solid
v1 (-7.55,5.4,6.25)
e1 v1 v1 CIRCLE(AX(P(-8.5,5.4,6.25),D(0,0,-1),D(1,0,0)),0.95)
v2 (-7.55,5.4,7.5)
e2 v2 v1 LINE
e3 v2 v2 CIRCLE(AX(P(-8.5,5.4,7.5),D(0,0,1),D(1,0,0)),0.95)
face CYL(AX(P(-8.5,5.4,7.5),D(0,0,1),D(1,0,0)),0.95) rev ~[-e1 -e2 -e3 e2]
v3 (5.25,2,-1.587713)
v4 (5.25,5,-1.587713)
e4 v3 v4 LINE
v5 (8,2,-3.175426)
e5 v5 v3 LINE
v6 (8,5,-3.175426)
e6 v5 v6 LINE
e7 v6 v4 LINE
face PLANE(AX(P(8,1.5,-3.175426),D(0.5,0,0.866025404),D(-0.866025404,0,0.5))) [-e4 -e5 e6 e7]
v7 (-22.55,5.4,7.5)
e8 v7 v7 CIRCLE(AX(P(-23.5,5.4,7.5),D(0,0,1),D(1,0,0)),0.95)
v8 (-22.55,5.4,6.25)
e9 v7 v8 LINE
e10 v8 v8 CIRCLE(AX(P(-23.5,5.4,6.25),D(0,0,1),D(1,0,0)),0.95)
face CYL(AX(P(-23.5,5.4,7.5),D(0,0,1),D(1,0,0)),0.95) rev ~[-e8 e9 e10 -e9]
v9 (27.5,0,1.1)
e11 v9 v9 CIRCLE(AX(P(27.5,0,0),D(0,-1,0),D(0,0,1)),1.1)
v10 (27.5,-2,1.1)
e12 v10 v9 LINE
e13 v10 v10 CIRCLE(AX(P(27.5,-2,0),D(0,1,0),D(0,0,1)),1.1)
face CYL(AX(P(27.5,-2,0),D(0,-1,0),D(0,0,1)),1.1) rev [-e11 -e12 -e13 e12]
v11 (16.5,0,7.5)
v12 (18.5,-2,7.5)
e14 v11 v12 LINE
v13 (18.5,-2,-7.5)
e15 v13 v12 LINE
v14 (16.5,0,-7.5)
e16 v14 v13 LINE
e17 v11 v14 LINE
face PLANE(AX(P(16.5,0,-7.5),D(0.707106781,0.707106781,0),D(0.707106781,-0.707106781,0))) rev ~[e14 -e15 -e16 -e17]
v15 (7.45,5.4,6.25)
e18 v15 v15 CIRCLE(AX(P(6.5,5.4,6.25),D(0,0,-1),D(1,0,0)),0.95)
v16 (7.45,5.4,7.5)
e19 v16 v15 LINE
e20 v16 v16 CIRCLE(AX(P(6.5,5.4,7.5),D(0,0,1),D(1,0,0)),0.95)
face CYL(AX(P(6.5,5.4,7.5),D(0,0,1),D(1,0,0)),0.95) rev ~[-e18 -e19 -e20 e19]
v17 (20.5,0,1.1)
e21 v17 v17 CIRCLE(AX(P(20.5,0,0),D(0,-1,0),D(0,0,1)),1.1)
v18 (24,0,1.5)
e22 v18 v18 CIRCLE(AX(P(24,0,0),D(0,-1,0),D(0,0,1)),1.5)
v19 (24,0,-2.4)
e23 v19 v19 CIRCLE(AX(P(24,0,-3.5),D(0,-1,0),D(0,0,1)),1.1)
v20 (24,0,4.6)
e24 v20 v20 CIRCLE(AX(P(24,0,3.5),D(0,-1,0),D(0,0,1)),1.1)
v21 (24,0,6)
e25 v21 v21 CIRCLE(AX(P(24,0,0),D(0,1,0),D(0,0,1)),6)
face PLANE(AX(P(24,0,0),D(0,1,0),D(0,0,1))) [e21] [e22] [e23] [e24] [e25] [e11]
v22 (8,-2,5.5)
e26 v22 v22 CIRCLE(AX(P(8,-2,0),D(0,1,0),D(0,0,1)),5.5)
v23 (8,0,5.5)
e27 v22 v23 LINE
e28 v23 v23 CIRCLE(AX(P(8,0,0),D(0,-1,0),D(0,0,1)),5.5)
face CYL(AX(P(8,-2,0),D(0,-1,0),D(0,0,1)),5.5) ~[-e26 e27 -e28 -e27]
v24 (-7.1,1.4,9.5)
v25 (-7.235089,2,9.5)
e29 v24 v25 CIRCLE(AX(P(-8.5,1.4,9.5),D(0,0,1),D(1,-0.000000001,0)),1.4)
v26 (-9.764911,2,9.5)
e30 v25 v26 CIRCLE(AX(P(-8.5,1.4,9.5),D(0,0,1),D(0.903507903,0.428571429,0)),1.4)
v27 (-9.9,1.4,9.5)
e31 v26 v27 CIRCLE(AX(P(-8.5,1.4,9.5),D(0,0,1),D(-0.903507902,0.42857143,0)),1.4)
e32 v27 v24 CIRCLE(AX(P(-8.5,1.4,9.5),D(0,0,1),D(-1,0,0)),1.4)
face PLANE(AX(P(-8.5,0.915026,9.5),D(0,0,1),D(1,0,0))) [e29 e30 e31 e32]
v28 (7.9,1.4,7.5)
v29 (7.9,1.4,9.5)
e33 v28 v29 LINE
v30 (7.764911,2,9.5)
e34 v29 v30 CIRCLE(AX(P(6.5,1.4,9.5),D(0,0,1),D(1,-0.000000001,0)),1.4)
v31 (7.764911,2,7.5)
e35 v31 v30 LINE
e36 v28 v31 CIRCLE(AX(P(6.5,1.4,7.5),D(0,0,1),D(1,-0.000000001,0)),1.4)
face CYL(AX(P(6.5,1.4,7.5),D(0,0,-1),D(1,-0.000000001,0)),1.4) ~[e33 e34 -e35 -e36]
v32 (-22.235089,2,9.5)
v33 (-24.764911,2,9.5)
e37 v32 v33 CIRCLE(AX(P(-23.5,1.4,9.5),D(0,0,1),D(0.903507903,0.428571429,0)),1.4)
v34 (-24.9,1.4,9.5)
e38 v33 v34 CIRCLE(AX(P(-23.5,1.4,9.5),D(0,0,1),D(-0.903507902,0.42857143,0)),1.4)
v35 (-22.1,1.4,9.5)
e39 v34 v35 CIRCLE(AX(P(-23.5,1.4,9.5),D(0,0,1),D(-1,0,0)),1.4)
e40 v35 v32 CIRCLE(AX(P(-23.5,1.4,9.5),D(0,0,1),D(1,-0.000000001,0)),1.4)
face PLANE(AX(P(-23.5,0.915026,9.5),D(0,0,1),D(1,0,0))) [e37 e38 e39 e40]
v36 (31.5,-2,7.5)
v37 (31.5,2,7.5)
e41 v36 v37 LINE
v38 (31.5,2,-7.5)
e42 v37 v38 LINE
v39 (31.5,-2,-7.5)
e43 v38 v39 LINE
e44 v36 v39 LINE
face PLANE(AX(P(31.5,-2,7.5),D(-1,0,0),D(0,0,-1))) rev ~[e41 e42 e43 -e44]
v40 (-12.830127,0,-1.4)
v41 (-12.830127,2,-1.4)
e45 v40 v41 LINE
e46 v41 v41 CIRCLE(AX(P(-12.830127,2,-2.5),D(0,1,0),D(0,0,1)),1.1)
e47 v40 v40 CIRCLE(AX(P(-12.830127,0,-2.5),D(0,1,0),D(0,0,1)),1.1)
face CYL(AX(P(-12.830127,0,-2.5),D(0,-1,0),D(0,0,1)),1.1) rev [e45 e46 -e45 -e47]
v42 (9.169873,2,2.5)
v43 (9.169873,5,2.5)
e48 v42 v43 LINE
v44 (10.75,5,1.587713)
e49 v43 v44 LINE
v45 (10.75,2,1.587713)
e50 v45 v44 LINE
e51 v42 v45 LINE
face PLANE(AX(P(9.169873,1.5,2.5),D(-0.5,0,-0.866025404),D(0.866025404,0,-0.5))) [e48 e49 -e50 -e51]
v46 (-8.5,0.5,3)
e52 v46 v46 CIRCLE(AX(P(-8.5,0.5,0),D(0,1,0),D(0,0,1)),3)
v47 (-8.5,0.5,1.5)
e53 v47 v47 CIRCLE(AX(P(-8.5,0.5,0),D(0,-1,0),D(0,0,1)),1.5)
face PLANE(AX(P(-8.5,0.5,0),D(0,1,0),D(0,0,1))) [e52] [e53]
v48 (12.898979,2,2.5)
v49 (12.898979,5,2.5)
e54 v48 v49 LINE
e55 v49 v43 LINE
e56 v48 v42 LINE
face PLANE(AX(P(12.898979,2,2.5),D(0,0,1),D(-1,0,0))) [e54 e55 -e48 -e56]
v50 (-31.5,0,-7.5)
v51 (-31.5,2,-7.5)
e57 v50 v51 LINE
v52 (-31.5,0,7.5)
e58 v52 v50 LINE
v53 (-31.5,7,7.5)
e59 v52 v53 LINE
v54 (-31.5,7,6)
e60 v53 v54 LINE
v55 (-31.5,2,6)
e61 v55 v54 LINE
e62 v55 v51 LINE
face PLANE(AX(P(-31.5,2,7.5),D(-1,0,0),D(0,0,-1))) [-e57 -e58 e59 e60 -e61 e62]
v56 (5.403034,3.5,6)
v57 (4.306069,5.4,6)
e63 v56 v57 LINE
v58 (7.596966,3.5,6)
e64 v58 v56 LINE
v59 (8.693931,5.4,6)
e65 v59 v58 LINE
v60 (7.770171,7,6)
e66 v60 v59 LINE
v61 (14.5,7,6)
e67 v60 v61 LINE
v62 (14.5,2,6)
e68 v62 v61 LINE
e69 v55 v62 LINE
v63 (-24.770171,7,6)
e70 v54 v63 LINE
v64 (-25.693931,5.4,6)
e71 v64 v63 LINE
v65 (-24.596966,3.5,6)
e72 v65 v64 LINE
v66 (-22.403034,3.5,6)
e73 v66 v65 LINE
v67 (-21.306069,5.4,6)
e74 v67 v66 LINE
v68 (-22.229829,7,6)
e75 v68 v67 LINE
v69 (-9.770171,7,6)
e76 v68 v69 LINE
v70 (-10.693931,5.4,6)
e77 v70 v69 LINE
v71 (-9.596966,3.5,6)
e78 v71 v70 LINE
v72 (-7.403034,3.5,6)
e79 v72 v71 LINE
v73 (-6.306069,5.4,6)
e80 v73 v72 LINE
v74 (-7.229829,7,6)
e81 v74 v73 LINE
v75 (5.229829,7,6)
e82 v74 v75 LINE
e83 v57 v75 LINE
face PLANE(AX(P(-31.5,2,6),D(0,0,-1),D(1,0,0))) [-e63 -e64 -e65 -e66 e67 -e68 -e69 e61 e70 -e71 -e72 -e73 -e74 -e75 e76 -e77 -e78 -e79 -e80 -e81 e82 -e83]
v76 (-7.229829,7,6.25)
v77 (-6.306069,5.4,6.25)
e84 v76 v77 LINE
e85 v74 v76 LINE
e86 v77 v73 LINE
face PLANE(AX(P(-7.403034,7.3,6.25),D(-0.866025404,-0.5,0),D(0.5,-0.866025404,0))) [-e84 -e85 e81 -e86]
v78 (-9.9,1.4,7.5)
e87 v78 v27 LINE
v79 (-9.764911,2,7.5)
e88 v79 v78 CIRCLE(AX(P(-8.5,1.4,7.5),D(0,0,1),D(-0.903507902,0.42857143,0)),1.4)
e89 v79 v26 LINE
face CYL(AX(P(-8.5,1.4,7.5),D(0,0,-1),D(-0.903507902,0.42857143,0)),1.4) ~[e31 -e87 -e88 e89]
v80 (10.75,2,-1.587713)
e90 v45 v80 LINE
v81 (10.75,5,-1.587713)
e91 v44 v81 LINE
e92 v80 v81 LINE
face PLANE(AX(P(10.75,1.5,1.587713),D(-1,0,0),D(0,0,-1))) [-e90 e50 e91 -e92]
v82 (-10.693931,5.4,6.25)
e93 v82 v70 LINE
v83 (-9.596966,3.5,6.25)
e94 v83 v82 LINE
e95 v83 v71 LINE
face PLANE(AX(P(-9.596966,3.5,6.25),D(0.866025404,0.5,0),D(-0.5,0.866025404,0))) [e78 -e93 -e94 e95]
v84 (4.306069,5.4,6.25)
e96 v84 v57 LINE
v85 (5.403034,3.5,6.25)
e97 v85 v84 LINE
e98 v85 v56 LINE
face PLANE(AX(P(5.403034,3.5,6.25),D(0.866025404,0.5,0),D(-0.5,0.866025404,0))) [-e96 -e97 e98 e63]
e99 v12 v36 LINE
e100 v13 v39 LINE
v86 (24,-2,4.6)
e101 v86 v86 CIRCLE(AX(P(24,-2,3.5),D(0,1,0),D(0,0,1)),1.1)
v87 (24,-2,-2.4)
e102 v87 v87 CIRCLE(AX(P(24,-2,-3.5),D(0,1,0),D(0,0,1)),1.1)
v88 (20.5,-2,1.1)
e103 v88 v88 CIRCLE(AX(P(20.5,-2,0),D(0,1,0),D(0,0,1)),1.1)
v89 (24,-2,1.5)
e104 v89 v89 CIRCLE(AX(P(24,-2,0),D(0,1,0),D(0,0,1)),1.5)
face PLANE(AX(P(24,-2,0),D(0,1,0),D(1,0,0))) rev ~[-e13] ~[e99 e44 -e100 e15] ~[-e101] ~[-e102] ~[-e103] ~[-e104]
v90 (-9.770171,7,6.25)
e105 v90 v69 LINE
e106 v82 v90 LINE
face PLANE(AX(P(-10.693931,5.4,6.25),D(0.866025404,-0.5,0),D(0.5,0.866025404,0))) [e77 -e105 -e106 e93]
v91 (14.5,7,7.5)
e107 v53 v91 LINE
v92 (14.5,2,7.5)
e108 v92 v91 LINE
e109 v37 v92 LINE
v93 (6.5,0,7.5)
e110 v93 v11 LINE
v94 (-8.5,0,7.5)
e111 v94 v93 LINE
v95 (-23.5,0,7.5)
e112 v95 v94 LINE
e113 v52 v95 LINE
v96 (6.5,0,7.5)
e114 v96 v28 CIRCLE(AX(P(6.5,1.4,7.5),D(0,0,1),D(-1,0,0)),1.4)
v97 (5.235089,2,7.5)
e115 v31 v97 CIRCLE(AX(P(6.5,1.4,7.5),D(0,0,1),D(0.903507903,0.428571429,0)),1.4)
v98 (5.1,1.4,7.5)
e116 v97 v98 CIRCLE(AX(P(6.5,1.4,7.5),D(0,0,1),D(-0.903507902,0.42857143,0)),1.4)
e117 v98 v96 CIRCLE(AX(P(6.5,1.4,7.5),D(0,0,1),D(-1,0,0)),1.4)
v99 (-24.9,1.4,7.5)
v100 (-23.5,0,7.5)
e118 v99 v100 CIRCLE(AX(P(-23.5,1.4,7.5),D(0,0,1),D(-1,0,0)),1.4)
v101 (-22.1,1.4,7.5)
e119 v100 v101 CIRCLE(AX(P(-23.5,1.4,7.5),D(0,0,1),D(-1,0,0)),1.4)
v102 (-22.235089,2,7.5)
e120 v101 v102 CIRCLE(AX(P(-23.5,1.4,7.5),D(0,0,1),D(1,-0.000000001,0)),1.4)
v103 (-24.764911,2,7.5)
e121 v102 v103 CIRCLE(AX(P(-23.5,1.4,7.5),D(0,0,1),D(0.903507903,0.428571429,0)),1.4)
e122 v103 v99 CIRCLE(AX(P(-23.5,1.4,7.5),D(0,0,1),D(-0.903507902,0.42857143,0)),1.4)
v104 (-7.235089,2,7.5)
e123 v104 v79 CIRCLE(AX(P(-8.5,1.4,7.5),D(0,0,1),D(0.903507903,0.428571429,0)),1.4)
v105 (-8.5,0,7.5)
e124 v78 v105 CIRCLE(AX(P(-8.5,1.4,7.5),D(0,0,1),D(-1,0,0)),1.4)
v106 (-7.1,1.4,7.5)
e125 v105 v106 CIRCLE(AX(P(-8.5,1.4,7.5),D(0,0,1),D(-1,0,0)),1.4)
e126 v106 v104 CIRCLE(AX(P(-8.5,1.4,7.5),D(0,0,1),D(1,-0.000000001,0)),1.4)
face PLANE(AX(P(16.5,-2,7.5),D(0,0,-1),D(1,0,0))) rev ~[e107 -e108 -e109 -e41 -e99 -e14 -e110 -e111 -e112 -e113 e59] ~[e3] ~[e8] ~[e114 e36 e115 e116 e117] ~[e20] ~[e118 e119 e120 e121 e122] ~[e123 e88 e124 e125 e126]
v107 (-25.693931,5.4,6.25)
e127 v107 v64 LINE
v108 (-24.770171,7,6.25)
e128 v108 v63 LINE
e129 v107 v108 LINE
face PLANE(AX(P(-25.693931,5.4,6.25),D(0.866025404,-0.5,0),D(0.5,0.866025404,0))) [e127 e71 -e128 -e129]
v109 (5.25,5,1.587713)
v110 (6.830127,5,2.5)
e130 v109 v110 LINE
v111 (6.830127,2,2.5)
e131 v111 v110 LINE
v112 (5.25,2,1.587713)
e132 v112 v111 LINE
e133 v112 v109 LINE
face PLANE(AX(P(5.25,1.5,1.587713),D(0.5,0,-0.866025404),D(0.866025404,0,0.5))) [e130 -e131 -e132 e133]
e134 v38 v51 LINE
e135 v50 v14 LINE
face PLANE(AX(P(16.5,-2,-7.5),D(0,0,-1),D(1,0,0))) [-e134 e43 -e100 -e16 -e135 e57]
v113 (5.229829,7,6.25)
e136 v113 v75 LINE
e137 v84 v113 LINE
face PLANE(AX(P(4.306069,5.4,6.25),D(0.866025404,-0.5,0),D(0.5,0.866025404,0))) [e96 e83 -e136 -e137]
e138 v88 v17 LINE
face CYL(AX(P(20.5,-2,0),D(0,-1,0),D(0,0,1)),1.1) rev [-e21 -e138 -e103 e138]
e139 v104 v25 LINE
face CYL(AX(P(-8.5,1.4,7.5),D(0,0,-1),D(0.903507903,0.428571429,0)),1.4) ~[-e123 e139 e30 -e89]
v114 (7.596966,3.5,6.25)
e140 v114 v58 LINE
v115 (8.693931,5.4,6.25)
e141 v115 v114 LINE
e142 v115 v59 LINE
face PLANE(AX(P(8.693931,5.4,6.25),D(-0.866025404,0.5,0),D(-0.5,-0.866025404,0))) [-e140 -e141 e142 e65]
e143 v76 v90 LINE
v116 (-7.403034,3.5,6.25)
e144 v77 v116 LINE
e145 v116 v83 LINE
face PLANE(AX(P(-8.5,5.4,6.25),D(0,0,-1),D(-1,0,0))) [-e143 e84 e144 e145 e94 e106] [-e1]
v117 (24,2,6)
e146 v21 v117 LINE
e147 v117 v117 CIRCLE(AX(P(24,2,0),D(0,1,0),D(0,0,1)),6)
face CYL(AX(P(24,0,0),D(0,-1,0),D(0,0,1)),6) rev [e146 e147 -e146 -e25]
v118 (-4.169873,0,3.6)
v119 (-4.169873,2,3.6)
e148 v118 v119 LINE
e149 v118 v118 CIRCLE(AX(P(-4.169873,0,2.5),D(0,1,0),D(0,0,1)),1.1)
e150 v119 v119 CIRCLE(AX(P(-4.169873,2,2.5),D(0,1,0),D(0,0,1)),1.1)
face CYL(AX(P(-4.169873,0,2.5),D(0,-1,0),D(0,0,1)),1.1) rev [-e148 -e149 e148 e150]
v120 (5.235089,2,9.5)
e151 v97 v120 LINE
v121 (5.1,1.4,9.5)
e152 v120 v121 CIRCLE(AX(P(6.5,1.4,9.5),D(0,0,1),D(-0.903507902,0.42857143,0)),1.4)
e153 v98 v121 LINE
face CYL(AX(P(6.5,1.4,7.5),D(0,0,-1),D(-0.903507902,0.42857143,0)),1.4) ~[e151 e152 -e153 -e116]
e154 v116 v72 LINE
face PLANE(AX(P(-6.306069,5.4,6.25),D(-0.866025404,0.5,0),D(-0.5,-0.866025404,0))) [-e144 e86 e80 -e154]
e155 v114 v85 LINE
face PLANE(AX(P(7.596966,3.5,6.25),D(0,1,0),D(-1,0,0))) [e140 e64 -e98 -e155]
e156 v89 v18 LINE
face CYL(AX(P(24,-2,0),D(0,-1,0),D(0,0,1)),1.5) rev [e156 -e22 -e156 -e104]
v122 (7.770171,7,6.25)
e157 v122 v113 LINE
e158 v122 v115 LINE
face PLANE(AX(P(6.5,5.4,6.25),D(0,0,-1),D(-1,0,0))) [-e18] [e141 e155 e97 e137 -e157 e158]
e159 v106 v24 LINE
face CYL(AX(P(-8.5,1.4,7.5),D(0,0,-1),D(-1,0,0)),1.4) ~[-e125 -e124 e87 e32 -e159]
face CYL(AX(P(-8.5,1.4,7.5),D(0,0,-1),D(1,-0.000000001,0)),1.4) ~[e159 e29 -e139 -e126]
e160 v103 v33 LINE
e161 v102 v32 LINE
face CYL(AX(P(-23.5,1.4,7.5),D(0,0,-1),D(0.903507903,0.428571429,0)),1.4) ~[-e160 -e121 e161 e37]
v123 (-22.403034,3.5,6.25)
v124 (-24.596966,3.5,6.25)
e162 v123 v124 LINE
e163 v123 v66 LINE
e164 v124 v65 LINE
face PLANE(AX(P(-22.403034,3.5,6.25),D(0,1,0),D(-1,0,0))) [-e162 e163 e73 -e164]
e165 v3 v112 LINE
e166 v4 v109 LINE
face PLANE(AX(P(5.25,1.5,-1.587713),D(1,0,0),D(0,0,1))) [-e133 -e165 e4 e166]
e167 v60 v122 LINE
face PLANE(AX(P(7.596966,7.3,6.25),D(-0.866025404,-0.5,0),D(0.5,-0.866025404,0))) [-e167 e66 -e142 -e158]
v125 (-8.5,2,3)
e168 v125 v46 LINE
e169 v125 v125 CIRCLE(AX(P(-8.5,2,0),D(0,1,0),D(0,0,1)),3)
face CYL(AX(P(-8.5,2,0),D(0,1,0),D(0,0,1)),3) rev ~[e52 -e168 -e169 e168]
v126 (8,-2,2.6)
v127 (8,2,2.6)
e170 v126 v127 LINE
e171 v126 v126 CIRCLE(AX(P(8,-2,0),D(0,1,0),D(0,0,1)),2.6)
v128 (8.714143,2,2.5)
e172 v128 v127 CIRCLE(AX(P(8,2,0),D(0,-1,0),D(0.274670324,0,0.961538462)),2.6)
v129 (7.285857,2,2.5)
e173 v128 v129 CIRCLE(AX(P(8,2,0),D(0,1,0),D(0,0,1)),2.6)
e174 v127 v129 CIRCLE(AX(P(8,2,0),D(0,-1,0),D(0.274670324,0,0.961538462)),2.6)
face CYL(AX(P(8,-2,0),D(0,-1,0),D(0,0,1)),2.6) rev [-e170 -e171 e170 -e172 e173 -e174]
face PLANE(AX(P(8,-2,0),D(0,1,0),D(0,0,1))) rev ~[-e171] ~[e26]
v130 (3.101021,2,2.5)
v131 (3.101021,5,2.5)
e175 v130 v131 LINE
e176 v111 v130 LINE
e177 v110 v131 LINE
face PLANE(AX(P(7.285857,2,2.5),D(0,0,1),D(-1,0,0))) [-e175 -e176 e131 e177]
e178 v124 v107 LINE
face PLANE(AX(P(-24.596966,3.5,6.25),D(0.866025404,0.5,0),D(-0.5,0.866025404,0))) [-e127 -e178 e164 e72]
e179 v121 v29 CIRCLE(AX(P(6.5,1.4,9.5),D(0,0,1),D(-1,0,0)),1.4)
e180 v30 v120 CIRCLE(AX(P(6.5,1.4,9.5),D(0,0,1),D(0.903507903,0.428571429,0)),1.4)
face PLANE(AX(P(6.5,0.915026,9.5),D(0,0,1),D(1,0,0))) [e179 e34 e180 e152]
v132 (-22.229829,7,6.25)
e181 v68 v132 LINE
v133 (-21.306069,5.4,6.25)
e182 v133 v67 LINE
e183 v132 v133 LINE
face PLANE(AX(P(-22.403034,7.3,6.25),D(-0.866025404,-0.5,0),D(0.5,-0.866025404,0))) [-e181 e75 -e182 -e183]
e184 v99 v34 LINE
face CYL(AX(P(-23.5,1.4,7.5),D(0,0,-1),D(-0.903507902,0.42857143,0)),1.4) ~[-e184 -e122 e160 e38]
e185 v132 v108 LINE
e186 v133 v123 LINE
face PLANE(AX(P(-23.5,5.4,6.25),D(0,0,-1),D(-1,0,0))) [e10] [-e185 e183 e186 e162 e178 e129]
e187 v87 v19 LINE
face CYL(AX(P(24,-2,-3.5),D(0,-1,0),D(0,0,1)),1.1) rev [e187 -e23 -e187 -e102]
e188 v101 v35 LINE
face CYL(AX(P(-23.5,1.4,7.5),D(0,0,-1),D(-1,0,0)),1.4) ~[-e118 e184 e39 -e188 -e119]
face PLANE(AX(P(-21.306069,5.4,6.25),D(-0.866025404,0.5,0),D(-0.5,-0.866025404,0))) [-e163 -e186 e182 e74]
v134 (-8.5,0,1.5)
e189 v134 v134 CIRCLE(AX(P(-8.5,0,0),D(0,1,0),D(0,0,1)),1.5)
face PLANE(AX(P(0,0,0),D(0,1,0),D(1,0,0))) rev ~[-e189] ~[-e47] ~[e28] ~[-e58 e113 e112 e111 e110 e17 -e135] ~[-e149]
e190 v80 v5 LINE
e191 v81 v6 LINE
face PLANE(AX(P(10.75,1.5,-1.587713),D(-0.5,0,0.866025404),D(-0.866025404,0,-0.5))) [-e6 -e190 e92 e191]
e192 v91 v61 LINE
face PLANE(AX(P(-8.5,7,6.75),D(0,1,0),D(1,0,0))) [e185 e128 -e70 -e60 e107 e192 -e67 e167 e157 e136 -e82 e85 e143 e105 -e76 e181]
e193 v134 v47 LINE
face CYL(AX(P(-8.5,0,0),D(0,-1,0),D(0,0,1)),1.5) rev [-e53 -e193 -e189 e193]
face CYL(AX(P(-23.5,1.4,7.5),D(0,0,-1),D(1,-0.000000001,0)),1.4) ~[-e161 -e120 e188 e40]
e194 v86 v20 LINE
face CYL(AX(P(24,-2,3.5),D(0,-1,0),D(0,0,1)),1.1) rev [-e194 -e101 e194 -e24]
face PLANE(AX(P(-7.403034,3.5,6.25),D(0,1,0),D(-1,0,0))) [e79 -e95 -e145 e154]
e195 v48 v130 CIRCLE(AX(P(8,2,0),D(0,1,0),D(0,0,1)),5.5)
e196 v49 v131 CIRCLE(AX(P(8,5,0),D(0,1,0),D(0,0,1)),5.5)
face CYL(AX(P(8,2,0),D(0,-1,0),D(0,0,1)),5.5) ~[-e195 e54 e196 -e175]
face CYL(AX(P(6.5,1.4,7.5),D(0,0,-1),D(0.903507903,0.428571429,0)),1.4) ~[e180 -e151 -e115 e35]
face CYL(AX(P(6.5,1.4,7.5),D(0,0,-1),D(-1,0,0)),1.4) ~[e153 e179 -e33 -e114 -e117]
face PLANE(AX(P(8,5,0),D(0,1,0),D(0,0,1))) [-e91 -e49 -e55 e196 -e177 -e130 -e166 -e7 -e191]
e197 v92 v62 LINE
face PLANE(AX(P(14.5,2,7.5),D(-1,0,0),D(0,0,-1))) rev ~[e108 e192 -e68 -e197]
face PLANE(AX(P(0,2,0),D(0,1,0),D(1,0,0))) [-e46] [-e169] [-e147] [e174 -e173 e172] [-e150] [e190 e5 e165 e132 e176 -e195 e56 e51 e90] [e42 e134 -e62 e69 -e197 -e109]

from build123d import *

# Parameters (mm, degrees)
SKETCH_1_W          = 63
SKETCH_1_H          = 15
SKETCH_1_R          = 1.1
SKETCH_1_R_2        = 1.5
SKETCH_1_R_3        = 2.6
EXTRUDE_1_DEPTH     = 2
EXTRUDE_2_DEPTH     = 2
SKETCH_4_R          = 3
CUT_EXTRUDE_1_DEPTH = 1.5
SKETCH_5_W          = 46
SKETCH_5_H          = 1.5
EXTRUDE_3_DEPTH     = 5
SKETCH_2_3_R        = 0.95
CUT_EXTRUDE_2_DEPTH = 6
CUT_EXTRUDE_START   = -0.25
SKETCH_7_R          = 0.95
CUT_EXTRUDE_3_DEPTH = 0.25
SKETCH_1_3_W        = 15
SKETCH_1_3_H        = 15
SKETCH_1_3_R        = 6
SKETCH_1_3_R_2      = 1.5
SKETCH_1_3_R_3      = 1.1
EXTRUDE_4_DEPTH     = 2
EXTRUDE_START       = -2
SKETCH_1_4_W        = 15
SKETCH_1_4_H        = 15
SKETCH_1_4_R        = 6
SKETCH_1_4_R_2      = 1.5
SKETCH_1_4_R_3      = 1.1
EXTRUDE_5_DEPTH     = 2
SKETCH_1_5_R        = 6
CUT_EXTRUDE_4_DEPTH = 2
CUT_EXTRUDE_5_DEPTH = 15
SKETCH_9_R          = 5.5
SKETCH_9_R_2        = 2.6
EXTRUDE_6_DEPTH     = 3
CUT_EXTRUDE_START_2 = -3
CUT_EXTRUDE_6_DEPTH = 3
CUT_EXTRUDE_START_3 = -3.5
CUT_EXTRUDE_7_DEPTH = 3.5
EXTRUDE_START_2     = -4
SKETCH_9_2_R        = 5.5
SKETCH_9_2_R_2      = 2.6
EXTRUDE_7_DEPTH     = 4


with BuildPart() as part:
    # 草图1 → 凸台-拉伸1 (new body)
    with BuildSketch(Plane(origin=(0, 0, 0), x_dir=(1, 0, 0), z_dir=(0, 1, 0))):
        Rectangle(SKETCH_1_W, SKETCH_1_H)
        with Locations(Location((-4.169872981, -2.5, 0), (0, 0, 270))):
            Circle(SKETCH_1_R, mode=Mode.SUBTRACT)
        with Locations(Location((-8.5, 0, 0), (0, 0, 270))):
            Circle(SKETCH_1_R_2, mode=Mode.SUBTRACT)
        with Locations(Location((-12.830127019, 2.5, 0), (0, 0, 270))):
            Circle(SKETCH_1_R, mode=Mode.SUBTRACT)
        with Locations(Location((8, 0, 0), (0, 0, 270))):
            Circle(SKETCH_1_R_3, mode=Mode.SUBTRACT)
        with Locations(Location((24, 3.5, 0), (0, 0, 270))):
            Circle(SKETCH_1_R, mode=Mode.SUBTRACT)
        with Locations(Location((24, -3.5, 0), (0, 0, 270))):
            Circle(SKETCH_1_R, mode=Mode.SUBTRACT)
        with Locations(Location((20.5, 0, 0), (0, 0, 270))):
            Circle(SKETCH_1_R, mode=Mode.SUBTRACT)
        with Locations(Location((24, 0, 0), (0, 0, 270))):
            Circle(SKETCH_1_R_2, mode=Mode.SUBTRACT)
        with Locations(Location((27.5, 0, 0), (0, 0, 270))):
            Circle(SKETCH_1_R, mode=Mode.SUBTRACT)
    extrude(amount=EXTRUDE_1_DEPTH)

    # 草图2 → 凸台-拉伸2 (add)
    with BuildSketch(Plane.XY.offset(7.5)):
        with BuildLine():
            Line((-22.1, 1.4), (-24.9, 1.4))
            ThreePointArc((-24.9, 1.4), (-23.5, 0), (-22.1, 1.4))
        make_face()
        with BuildLine():
            ThreePointArc((-24.764911064, 2), (-24.865810289, 1.707509764), (-24.9, 1.4))
            Line((-24.9, 1.4), (-22.1, 1.4))
            ThreePointArc((-22.1, 1.4), (-22.134189711, 1.707509764), (-22.235088936, 2))
            Line((-22.235088936, 2), (-24.764911064, 2))
        make_face()
        with BuildLine():
            ThreePointArc((-22.235088936, 2), (-23.5, 2.8), (-24.764911064, 2))
            Line((-24.764911064, 2), (-22.235088936, 2))
        make_face()
        with BuildLine():
            Line((-7.1, 1.4), (-9.9, 1.4))
            ThreePointArc((-9.9, 1.4), (-8.5, 0), (-7.1, 1.4))
        make_face()
        with BuildLine():
            ThreePointArc((-9.764911064, 2), (-9.865810289, 1.707509764), (-9.9, 1.4))
            Line((-9.9, 1.4), (-7.1, 1.4))
            ThreePointArc((-7.1, 1.4), (-7.134189711, 1.707509764), (-7.235088936, 2))
            Line((-7.235088936, 2), (-9.764911064, 2))
        make_face()
        with BuildLine():
            ThreePointArc((-7.235088936, 2), (-8.5, 2.8), (-9.764911064, 2))
            Line((-9.764911064, 2), (-7.235088936, 2))
        make_face()
        with BuildLine():
            Line((7.9, 1.4), (5.1, 1.4))
            ThreePointArc((5.1, 1.4), (6.5, 0), (7.9, 1.4))
        make_face()
        with BuildLine():
            ThreePointArc((5.235088936, 2), (5.134189711, 1.707509764), (5.1, 1.4))
            Line((5.1, 1.4), (7.9, 1.4))
            ThreePointArc((7.9, 1.4), (7.865810289, 1.707509764), (7.764911064, 2))
            Line((7.764911064, 2), (5.235088936, 2))
        make_face()
        with BuildLine():
            ThreePointArc((7.764911064, 2), (6.5, 2.8), (5.235088936, 2))
            Line((5.235088936, 2), (7.764911064, 2))
        make_face()
    extrude(amount=EXTRUDE_2_DEPTH)

    # 草图4 → 切除-拉伸1 (cut)
    with BuildSketch(Plane(origin=(0, 2, 0), x_dir=(1, 0, 0), z_dir=(0, 1, 0))):
        with Locations(Location((-8.5, 0, 0), (0, 0, 270))):
            Circle(SKETCH_4_R)
    extrude(amount=-CUT_EXTRUDE_1_DEPTH, mode=Mode.SUBTRACT)

    # 草图5 → 凸台-拉伸3 (add)
    with BuildSketch(Plane(origin=(0, 2, 0), x_dir=(1, 0, 0), z_dir=(0, 1, 0))):
        with Locations((-8.5, -6.75)):
            Rectangle(SKETCH_5_W, SKETCH_5_H)
    extrude(amount=EXTRUDE_3_DEPTH)

    # 草图2<3> → 切除-拉伸2 (cut)
    with BuildSketch(Plane.XY.offset(7.5)):
        with Locations((-23.5, 5.4)):
            Circle(SKETCH_2_3_R)
        with Locations((-8.5, 5.4)):
            Circle(SKETCH_2_3_R)
        with Locations((6.5, 5.4)):
            Circle(SKETCH_2_3_R)
    extrude(amount=-CUT_EXTRUDE_2_DEPTH, mode=Mode.SUBTRACT)

    # 草图7 → 切除-拉伸3 (cut)
    # profile 1 of 3: a face of its own
    with BuildSketch(Plane(origin=(0, 0, 6), x_dir=(-1, 0, 0), z_dir=(0, 0, -1)).offset(CUT_EXTRUDE_START)):
        Polygon((-7.596965511, 3.5), (-5.403034489, 3.5), (-4.306068977, 5.4), (-5.403034489, 7.3), (-7.596965511, 7.3), (-8.693931023, 5.4), align=None)
        with Locations(Location((-6.5, 5.4, 0), (0, 0, 180))):
            Circle(SKETCH_7_R, mode=Mode.SUBTRACT)
    # profile 2 of 3: a face of its own
    with BuildSketch(Plane(origin=(0, 0, 6), x_dir=(-1, 0, 0), z_dir=(0, 0, -1)).offset(CUT_EXTRUDE_START)):
        Polygon((6.306068977, 5.4), (7.403034489, 3.5), (9.596965511, 3.5), (10.693931023, 5.4), (9.596965511, 7.3), (7.403034489, 7.3), align=None)
        with Locations(Location((8.5, 5.4, 0), (0, 0, 180))):
            Circle(SKETCH_7_R, mode=Mode.SUBTRACT)
    # profile 3 of 3: a face of its own
    with BuildSketch(Plane(origin=(0, 0, 6), x_dir=(-1, 0, 0), z_dir=(0, 0, -1)).offset(CUT_EXTRUDE_START)):
        Polygon((21.306068977, 5.4), (22.403034489, 3.5), (24.596965511, 3.5), (25.693931023, 5.4), (24.596965511, 7.3), (22.403034489, 7.3), align=None)
    extrude(amount=CUT_EXTRUDE_3_DEPTH, mode=Mode.SUBTRACT)

    # 草图1<3> → 凸台-拉伸4 (add)
    # profile 1 of 2: a face of its own
    with BuildSketch(Plane(origin=(0, 0, 0), x_dir=(1, 0, 0), z_dir=(0, 1, 0))):
        with Locations((24, 0)):
            Rectangle(SKETCH_1_3_W, SKETCH_1_3_H)
        with Locations((24, 0)):
            Circle(SKETCH_1_3_R, mode=Mode.SUBTRACT)
    # profile 2 of 2: a face of its own
    with BuildSketch(Plane(origin=(0, 0, 0), x_dir=(1, 0, 0), z_dir=(0, 1, 0))):
        with Locations((24, 0)):
            Circle(SKETCH_1_3_R)
        with Locations(Location((24, 0, 0), (0, 0, 270))):
            Circle(SKETCH_1_3_R_2, mode=Mode.SUBTRACT)
        with Locations(Location((27.5, 0, 0), (0, 0, 270))):
            Circle(SKETCH_1_3_R_3, mode=Mode.SUBTRACT)
        with Locations(Location((24, -3.5, 0), (0, 0, 270))):
            Circle(SKETCH_1_3_R_3, mode=Mode.SUBTRACT)
        with Locations(Location((20.5, 0, 0), (0, 0, 270))):
            Circle(SKETCH_1_3_R_3, mode=Mode.SUBTRACT)
        with Locations(Location((24, 3.5, 0), (0, 0, 270))):
            Circle(SKETCH_1_3_R_3, mode=Mode.SUBTRACT)
    extrude(amount=EXTRUDE_4_DEPTH)

    # 草图1<4> → 凸台-拉伸5 (add)
    # profile 1 of 2: a face of its own
    with BuildSketch(Plane(origin=(0, 0, 0), x_dir=(1, 0, 0), z_dir=(0, 1, 0)).offset(EXTRUDE_START)):
        with Locations((24, 0)):
            Rectangle(SKETCH_1_4_W, SKETCH_1_4_H)
        with Locations((24, 0)):
            Circle(SKETCH_1_4_R, mode=Mode.SUBTRACT)
    # profile 2 of 2: a face of its own
    with BuildSketch(Plane(origin=(0, 0, 0), x_dir=(1, 0, 0), z_dir=(0, 1, 0)).offset(EXTRUDE_START)):
        with Locations((24, 0)):
            Circle(SKETCH_1_4_R)
        with Locations(Location((24, 0, 0), (0, 0, 270))):
            Circle(SKETCH_1_4_R_2, mode=Mode.SUBTRACT)
        with Locations(Location((27.5, 0, 0), (0, 0, 270))):
            Circle(SKETCH_1_4_R_3, mode=Mode.SUBTRACT)
        with Locations(Location((24, -3.5, 0), (0, 0, 270))):
            Circle(SKETCH_1_4_R_3, mode=Mode.SUBTRACT)
        with Locations(Location((20.5, 0, 0), (0, 0, 270))):
            Circle(SKETCH_1_4_R_3, mode=Mode.SUBTRACT)
        with Locations(Location((24, 3.5, 0), (0, 0, 270))):
            Circle(SKETCH_1_4_R_3, mode=Mode.SUBTRACT)
    extrude(amount=EXTRUDE_5_DEPTH)

    # 草图1<5> → 切除-拉伸4 (cut)
    with BuildSketch(Plane(origin=(0, 0, 0), x_dir=(1, 0, 0), z_dir=(0, 1, 0))):
        with Locations(Location((24, 0, 0), (0, 0, 270))):
            Circle(SKETCH_1_5_R)
    extrude(amount=CUT_EXTRUDE_4_DEPTH, mode=Mode.SUBTRACT)

    # 草图8 → 切除-拉伸5 (cut)
    with BuildSketch(Plane(origin=(0, 0, -7.5), x_dir=(-1, 0, 0), z_dir=(0, 0, -1))):
        Polygon((-16.5, 0), (-18.5, -2), (-16.5, -2), align=None)
    extrude(amount=-CUT_EXTRUDE_5_DEPTH, mode=Mode.SUBTRACT)

    # 草图9 → 凸台-拉伸6 (add)
    with BuildSketch(Plane(origin=(0, 2, 0), x_dir=(1, 0, 0), z_dir=(0, 1, 0))):
        with Locations(Location((8, 0, 0), (0, 0, 270))):
            Circle(SKETCH_9_R)
        with Locations(Location((8, 0, 0), (0, 0, 270))):
            Circle(SKETCH_9_R_2, mode=Mode.SUBTRACT)
    extrude(amount=EXTRUDE_6_DEPTH)

    # 草图10 → 切除-拉伸6 (cut)
    with BuildSketch(Plane(origin=(0, 5, 0), x_dir=(1, 0, 0), z_dir=(0, 1, 0)).offset(CUT_EXTRUDE_START_2)):
        with BuildLine():
            Line((8, -3.175426481), (6.830127019, -2.5))
            Line((6.830127019, -2.5), (3.101020514, -2.5))
            ThreePointArc((3.101020514, -2.5), (8, -5.5), (12.898979486, -2.5))
            Line((12.898979486, -2.5), (9.169872981, -2.5))
            Line((9.169872981, -2.5), (8, -3.175426481))
        make_face()
        with BuildLine():
            Line((7.285857157, -2.5), (6.830127019, -2.5))
            Line((6.830127019, -2.5), (8, -3.175426481))
            Line((8, -3.175426481), (9.169872981, -2.5))
            Line((9.169872981, -2.5), (8.714142843, -2.5))
            ThreePointArc((8.714142843, -2.5), (8, -2.6), (7.285857157, -2.5))
        make_face()
    extrude(amount=CUT_EXTRUDE_6_DEPTH, mode=Mode.SUBTRACT)

    # 草图10<3> → 切除-拉伸7 (cut)
    with BuildSketch(Plane(origin=(0, 5, 0), x_dir=(1, 0, 0), z_dir=(0, 1, 0)).offset(CUT_EXTRUDE_START_3)):
        with BuildLine():
            Line((10.75, 1.58771324), (8, 3.175426481))
            Line((8, 3.175426481), (5.25, 1.58771324))
            Line((5.25, 1.58771324), (5.25, -1.58771324))
            Line((5.25, -1.58771324), (6.830127019, -2.5))
            Line((6.830127019, -2.5), (7.285857157, -2.5))
            ThreePointArc((7.285857157, -2.5), (6.43423683, 2.075665121), (10.6, 0))
            ThreePointArc((10.6, 0), (10.075665121, -1.56576317), (8.714142843, -2.5))
            Line((8.714142843, -2.5), (9.169872981, -2.5))
            Line((9.169872981, -2.5), (10.75, -1.58771324))
            Line((10.75, -1.58771324), (10.75, 1.58771324))
        make_face()
    extrude(amount=CUT_EXTRUDE_7_DEPTH, mode=Mode.SUBTRACT)

    # 草图9<2> → 凸台-拉伸7 (add)
    with BuildSketch(Plane(origin=(0, 2, 0), x_dir=(1, 0, 0), z_dir=(0, 1, 0)).offset(EXTRUDE_START_2)):
        with Locations(Location((8, 0, 0), (0, 0, 270))):
            Circle(SKETCH_9_2_R)
        with Locations(Location((8, 0, 0), (0, 0, 270))):
            Circle(SKETCH_9_2_R_2, mode=Mode.SUBTRACT)
    extrude(amount=EXTRUDE_7_DEPTH)


solid = part.part
